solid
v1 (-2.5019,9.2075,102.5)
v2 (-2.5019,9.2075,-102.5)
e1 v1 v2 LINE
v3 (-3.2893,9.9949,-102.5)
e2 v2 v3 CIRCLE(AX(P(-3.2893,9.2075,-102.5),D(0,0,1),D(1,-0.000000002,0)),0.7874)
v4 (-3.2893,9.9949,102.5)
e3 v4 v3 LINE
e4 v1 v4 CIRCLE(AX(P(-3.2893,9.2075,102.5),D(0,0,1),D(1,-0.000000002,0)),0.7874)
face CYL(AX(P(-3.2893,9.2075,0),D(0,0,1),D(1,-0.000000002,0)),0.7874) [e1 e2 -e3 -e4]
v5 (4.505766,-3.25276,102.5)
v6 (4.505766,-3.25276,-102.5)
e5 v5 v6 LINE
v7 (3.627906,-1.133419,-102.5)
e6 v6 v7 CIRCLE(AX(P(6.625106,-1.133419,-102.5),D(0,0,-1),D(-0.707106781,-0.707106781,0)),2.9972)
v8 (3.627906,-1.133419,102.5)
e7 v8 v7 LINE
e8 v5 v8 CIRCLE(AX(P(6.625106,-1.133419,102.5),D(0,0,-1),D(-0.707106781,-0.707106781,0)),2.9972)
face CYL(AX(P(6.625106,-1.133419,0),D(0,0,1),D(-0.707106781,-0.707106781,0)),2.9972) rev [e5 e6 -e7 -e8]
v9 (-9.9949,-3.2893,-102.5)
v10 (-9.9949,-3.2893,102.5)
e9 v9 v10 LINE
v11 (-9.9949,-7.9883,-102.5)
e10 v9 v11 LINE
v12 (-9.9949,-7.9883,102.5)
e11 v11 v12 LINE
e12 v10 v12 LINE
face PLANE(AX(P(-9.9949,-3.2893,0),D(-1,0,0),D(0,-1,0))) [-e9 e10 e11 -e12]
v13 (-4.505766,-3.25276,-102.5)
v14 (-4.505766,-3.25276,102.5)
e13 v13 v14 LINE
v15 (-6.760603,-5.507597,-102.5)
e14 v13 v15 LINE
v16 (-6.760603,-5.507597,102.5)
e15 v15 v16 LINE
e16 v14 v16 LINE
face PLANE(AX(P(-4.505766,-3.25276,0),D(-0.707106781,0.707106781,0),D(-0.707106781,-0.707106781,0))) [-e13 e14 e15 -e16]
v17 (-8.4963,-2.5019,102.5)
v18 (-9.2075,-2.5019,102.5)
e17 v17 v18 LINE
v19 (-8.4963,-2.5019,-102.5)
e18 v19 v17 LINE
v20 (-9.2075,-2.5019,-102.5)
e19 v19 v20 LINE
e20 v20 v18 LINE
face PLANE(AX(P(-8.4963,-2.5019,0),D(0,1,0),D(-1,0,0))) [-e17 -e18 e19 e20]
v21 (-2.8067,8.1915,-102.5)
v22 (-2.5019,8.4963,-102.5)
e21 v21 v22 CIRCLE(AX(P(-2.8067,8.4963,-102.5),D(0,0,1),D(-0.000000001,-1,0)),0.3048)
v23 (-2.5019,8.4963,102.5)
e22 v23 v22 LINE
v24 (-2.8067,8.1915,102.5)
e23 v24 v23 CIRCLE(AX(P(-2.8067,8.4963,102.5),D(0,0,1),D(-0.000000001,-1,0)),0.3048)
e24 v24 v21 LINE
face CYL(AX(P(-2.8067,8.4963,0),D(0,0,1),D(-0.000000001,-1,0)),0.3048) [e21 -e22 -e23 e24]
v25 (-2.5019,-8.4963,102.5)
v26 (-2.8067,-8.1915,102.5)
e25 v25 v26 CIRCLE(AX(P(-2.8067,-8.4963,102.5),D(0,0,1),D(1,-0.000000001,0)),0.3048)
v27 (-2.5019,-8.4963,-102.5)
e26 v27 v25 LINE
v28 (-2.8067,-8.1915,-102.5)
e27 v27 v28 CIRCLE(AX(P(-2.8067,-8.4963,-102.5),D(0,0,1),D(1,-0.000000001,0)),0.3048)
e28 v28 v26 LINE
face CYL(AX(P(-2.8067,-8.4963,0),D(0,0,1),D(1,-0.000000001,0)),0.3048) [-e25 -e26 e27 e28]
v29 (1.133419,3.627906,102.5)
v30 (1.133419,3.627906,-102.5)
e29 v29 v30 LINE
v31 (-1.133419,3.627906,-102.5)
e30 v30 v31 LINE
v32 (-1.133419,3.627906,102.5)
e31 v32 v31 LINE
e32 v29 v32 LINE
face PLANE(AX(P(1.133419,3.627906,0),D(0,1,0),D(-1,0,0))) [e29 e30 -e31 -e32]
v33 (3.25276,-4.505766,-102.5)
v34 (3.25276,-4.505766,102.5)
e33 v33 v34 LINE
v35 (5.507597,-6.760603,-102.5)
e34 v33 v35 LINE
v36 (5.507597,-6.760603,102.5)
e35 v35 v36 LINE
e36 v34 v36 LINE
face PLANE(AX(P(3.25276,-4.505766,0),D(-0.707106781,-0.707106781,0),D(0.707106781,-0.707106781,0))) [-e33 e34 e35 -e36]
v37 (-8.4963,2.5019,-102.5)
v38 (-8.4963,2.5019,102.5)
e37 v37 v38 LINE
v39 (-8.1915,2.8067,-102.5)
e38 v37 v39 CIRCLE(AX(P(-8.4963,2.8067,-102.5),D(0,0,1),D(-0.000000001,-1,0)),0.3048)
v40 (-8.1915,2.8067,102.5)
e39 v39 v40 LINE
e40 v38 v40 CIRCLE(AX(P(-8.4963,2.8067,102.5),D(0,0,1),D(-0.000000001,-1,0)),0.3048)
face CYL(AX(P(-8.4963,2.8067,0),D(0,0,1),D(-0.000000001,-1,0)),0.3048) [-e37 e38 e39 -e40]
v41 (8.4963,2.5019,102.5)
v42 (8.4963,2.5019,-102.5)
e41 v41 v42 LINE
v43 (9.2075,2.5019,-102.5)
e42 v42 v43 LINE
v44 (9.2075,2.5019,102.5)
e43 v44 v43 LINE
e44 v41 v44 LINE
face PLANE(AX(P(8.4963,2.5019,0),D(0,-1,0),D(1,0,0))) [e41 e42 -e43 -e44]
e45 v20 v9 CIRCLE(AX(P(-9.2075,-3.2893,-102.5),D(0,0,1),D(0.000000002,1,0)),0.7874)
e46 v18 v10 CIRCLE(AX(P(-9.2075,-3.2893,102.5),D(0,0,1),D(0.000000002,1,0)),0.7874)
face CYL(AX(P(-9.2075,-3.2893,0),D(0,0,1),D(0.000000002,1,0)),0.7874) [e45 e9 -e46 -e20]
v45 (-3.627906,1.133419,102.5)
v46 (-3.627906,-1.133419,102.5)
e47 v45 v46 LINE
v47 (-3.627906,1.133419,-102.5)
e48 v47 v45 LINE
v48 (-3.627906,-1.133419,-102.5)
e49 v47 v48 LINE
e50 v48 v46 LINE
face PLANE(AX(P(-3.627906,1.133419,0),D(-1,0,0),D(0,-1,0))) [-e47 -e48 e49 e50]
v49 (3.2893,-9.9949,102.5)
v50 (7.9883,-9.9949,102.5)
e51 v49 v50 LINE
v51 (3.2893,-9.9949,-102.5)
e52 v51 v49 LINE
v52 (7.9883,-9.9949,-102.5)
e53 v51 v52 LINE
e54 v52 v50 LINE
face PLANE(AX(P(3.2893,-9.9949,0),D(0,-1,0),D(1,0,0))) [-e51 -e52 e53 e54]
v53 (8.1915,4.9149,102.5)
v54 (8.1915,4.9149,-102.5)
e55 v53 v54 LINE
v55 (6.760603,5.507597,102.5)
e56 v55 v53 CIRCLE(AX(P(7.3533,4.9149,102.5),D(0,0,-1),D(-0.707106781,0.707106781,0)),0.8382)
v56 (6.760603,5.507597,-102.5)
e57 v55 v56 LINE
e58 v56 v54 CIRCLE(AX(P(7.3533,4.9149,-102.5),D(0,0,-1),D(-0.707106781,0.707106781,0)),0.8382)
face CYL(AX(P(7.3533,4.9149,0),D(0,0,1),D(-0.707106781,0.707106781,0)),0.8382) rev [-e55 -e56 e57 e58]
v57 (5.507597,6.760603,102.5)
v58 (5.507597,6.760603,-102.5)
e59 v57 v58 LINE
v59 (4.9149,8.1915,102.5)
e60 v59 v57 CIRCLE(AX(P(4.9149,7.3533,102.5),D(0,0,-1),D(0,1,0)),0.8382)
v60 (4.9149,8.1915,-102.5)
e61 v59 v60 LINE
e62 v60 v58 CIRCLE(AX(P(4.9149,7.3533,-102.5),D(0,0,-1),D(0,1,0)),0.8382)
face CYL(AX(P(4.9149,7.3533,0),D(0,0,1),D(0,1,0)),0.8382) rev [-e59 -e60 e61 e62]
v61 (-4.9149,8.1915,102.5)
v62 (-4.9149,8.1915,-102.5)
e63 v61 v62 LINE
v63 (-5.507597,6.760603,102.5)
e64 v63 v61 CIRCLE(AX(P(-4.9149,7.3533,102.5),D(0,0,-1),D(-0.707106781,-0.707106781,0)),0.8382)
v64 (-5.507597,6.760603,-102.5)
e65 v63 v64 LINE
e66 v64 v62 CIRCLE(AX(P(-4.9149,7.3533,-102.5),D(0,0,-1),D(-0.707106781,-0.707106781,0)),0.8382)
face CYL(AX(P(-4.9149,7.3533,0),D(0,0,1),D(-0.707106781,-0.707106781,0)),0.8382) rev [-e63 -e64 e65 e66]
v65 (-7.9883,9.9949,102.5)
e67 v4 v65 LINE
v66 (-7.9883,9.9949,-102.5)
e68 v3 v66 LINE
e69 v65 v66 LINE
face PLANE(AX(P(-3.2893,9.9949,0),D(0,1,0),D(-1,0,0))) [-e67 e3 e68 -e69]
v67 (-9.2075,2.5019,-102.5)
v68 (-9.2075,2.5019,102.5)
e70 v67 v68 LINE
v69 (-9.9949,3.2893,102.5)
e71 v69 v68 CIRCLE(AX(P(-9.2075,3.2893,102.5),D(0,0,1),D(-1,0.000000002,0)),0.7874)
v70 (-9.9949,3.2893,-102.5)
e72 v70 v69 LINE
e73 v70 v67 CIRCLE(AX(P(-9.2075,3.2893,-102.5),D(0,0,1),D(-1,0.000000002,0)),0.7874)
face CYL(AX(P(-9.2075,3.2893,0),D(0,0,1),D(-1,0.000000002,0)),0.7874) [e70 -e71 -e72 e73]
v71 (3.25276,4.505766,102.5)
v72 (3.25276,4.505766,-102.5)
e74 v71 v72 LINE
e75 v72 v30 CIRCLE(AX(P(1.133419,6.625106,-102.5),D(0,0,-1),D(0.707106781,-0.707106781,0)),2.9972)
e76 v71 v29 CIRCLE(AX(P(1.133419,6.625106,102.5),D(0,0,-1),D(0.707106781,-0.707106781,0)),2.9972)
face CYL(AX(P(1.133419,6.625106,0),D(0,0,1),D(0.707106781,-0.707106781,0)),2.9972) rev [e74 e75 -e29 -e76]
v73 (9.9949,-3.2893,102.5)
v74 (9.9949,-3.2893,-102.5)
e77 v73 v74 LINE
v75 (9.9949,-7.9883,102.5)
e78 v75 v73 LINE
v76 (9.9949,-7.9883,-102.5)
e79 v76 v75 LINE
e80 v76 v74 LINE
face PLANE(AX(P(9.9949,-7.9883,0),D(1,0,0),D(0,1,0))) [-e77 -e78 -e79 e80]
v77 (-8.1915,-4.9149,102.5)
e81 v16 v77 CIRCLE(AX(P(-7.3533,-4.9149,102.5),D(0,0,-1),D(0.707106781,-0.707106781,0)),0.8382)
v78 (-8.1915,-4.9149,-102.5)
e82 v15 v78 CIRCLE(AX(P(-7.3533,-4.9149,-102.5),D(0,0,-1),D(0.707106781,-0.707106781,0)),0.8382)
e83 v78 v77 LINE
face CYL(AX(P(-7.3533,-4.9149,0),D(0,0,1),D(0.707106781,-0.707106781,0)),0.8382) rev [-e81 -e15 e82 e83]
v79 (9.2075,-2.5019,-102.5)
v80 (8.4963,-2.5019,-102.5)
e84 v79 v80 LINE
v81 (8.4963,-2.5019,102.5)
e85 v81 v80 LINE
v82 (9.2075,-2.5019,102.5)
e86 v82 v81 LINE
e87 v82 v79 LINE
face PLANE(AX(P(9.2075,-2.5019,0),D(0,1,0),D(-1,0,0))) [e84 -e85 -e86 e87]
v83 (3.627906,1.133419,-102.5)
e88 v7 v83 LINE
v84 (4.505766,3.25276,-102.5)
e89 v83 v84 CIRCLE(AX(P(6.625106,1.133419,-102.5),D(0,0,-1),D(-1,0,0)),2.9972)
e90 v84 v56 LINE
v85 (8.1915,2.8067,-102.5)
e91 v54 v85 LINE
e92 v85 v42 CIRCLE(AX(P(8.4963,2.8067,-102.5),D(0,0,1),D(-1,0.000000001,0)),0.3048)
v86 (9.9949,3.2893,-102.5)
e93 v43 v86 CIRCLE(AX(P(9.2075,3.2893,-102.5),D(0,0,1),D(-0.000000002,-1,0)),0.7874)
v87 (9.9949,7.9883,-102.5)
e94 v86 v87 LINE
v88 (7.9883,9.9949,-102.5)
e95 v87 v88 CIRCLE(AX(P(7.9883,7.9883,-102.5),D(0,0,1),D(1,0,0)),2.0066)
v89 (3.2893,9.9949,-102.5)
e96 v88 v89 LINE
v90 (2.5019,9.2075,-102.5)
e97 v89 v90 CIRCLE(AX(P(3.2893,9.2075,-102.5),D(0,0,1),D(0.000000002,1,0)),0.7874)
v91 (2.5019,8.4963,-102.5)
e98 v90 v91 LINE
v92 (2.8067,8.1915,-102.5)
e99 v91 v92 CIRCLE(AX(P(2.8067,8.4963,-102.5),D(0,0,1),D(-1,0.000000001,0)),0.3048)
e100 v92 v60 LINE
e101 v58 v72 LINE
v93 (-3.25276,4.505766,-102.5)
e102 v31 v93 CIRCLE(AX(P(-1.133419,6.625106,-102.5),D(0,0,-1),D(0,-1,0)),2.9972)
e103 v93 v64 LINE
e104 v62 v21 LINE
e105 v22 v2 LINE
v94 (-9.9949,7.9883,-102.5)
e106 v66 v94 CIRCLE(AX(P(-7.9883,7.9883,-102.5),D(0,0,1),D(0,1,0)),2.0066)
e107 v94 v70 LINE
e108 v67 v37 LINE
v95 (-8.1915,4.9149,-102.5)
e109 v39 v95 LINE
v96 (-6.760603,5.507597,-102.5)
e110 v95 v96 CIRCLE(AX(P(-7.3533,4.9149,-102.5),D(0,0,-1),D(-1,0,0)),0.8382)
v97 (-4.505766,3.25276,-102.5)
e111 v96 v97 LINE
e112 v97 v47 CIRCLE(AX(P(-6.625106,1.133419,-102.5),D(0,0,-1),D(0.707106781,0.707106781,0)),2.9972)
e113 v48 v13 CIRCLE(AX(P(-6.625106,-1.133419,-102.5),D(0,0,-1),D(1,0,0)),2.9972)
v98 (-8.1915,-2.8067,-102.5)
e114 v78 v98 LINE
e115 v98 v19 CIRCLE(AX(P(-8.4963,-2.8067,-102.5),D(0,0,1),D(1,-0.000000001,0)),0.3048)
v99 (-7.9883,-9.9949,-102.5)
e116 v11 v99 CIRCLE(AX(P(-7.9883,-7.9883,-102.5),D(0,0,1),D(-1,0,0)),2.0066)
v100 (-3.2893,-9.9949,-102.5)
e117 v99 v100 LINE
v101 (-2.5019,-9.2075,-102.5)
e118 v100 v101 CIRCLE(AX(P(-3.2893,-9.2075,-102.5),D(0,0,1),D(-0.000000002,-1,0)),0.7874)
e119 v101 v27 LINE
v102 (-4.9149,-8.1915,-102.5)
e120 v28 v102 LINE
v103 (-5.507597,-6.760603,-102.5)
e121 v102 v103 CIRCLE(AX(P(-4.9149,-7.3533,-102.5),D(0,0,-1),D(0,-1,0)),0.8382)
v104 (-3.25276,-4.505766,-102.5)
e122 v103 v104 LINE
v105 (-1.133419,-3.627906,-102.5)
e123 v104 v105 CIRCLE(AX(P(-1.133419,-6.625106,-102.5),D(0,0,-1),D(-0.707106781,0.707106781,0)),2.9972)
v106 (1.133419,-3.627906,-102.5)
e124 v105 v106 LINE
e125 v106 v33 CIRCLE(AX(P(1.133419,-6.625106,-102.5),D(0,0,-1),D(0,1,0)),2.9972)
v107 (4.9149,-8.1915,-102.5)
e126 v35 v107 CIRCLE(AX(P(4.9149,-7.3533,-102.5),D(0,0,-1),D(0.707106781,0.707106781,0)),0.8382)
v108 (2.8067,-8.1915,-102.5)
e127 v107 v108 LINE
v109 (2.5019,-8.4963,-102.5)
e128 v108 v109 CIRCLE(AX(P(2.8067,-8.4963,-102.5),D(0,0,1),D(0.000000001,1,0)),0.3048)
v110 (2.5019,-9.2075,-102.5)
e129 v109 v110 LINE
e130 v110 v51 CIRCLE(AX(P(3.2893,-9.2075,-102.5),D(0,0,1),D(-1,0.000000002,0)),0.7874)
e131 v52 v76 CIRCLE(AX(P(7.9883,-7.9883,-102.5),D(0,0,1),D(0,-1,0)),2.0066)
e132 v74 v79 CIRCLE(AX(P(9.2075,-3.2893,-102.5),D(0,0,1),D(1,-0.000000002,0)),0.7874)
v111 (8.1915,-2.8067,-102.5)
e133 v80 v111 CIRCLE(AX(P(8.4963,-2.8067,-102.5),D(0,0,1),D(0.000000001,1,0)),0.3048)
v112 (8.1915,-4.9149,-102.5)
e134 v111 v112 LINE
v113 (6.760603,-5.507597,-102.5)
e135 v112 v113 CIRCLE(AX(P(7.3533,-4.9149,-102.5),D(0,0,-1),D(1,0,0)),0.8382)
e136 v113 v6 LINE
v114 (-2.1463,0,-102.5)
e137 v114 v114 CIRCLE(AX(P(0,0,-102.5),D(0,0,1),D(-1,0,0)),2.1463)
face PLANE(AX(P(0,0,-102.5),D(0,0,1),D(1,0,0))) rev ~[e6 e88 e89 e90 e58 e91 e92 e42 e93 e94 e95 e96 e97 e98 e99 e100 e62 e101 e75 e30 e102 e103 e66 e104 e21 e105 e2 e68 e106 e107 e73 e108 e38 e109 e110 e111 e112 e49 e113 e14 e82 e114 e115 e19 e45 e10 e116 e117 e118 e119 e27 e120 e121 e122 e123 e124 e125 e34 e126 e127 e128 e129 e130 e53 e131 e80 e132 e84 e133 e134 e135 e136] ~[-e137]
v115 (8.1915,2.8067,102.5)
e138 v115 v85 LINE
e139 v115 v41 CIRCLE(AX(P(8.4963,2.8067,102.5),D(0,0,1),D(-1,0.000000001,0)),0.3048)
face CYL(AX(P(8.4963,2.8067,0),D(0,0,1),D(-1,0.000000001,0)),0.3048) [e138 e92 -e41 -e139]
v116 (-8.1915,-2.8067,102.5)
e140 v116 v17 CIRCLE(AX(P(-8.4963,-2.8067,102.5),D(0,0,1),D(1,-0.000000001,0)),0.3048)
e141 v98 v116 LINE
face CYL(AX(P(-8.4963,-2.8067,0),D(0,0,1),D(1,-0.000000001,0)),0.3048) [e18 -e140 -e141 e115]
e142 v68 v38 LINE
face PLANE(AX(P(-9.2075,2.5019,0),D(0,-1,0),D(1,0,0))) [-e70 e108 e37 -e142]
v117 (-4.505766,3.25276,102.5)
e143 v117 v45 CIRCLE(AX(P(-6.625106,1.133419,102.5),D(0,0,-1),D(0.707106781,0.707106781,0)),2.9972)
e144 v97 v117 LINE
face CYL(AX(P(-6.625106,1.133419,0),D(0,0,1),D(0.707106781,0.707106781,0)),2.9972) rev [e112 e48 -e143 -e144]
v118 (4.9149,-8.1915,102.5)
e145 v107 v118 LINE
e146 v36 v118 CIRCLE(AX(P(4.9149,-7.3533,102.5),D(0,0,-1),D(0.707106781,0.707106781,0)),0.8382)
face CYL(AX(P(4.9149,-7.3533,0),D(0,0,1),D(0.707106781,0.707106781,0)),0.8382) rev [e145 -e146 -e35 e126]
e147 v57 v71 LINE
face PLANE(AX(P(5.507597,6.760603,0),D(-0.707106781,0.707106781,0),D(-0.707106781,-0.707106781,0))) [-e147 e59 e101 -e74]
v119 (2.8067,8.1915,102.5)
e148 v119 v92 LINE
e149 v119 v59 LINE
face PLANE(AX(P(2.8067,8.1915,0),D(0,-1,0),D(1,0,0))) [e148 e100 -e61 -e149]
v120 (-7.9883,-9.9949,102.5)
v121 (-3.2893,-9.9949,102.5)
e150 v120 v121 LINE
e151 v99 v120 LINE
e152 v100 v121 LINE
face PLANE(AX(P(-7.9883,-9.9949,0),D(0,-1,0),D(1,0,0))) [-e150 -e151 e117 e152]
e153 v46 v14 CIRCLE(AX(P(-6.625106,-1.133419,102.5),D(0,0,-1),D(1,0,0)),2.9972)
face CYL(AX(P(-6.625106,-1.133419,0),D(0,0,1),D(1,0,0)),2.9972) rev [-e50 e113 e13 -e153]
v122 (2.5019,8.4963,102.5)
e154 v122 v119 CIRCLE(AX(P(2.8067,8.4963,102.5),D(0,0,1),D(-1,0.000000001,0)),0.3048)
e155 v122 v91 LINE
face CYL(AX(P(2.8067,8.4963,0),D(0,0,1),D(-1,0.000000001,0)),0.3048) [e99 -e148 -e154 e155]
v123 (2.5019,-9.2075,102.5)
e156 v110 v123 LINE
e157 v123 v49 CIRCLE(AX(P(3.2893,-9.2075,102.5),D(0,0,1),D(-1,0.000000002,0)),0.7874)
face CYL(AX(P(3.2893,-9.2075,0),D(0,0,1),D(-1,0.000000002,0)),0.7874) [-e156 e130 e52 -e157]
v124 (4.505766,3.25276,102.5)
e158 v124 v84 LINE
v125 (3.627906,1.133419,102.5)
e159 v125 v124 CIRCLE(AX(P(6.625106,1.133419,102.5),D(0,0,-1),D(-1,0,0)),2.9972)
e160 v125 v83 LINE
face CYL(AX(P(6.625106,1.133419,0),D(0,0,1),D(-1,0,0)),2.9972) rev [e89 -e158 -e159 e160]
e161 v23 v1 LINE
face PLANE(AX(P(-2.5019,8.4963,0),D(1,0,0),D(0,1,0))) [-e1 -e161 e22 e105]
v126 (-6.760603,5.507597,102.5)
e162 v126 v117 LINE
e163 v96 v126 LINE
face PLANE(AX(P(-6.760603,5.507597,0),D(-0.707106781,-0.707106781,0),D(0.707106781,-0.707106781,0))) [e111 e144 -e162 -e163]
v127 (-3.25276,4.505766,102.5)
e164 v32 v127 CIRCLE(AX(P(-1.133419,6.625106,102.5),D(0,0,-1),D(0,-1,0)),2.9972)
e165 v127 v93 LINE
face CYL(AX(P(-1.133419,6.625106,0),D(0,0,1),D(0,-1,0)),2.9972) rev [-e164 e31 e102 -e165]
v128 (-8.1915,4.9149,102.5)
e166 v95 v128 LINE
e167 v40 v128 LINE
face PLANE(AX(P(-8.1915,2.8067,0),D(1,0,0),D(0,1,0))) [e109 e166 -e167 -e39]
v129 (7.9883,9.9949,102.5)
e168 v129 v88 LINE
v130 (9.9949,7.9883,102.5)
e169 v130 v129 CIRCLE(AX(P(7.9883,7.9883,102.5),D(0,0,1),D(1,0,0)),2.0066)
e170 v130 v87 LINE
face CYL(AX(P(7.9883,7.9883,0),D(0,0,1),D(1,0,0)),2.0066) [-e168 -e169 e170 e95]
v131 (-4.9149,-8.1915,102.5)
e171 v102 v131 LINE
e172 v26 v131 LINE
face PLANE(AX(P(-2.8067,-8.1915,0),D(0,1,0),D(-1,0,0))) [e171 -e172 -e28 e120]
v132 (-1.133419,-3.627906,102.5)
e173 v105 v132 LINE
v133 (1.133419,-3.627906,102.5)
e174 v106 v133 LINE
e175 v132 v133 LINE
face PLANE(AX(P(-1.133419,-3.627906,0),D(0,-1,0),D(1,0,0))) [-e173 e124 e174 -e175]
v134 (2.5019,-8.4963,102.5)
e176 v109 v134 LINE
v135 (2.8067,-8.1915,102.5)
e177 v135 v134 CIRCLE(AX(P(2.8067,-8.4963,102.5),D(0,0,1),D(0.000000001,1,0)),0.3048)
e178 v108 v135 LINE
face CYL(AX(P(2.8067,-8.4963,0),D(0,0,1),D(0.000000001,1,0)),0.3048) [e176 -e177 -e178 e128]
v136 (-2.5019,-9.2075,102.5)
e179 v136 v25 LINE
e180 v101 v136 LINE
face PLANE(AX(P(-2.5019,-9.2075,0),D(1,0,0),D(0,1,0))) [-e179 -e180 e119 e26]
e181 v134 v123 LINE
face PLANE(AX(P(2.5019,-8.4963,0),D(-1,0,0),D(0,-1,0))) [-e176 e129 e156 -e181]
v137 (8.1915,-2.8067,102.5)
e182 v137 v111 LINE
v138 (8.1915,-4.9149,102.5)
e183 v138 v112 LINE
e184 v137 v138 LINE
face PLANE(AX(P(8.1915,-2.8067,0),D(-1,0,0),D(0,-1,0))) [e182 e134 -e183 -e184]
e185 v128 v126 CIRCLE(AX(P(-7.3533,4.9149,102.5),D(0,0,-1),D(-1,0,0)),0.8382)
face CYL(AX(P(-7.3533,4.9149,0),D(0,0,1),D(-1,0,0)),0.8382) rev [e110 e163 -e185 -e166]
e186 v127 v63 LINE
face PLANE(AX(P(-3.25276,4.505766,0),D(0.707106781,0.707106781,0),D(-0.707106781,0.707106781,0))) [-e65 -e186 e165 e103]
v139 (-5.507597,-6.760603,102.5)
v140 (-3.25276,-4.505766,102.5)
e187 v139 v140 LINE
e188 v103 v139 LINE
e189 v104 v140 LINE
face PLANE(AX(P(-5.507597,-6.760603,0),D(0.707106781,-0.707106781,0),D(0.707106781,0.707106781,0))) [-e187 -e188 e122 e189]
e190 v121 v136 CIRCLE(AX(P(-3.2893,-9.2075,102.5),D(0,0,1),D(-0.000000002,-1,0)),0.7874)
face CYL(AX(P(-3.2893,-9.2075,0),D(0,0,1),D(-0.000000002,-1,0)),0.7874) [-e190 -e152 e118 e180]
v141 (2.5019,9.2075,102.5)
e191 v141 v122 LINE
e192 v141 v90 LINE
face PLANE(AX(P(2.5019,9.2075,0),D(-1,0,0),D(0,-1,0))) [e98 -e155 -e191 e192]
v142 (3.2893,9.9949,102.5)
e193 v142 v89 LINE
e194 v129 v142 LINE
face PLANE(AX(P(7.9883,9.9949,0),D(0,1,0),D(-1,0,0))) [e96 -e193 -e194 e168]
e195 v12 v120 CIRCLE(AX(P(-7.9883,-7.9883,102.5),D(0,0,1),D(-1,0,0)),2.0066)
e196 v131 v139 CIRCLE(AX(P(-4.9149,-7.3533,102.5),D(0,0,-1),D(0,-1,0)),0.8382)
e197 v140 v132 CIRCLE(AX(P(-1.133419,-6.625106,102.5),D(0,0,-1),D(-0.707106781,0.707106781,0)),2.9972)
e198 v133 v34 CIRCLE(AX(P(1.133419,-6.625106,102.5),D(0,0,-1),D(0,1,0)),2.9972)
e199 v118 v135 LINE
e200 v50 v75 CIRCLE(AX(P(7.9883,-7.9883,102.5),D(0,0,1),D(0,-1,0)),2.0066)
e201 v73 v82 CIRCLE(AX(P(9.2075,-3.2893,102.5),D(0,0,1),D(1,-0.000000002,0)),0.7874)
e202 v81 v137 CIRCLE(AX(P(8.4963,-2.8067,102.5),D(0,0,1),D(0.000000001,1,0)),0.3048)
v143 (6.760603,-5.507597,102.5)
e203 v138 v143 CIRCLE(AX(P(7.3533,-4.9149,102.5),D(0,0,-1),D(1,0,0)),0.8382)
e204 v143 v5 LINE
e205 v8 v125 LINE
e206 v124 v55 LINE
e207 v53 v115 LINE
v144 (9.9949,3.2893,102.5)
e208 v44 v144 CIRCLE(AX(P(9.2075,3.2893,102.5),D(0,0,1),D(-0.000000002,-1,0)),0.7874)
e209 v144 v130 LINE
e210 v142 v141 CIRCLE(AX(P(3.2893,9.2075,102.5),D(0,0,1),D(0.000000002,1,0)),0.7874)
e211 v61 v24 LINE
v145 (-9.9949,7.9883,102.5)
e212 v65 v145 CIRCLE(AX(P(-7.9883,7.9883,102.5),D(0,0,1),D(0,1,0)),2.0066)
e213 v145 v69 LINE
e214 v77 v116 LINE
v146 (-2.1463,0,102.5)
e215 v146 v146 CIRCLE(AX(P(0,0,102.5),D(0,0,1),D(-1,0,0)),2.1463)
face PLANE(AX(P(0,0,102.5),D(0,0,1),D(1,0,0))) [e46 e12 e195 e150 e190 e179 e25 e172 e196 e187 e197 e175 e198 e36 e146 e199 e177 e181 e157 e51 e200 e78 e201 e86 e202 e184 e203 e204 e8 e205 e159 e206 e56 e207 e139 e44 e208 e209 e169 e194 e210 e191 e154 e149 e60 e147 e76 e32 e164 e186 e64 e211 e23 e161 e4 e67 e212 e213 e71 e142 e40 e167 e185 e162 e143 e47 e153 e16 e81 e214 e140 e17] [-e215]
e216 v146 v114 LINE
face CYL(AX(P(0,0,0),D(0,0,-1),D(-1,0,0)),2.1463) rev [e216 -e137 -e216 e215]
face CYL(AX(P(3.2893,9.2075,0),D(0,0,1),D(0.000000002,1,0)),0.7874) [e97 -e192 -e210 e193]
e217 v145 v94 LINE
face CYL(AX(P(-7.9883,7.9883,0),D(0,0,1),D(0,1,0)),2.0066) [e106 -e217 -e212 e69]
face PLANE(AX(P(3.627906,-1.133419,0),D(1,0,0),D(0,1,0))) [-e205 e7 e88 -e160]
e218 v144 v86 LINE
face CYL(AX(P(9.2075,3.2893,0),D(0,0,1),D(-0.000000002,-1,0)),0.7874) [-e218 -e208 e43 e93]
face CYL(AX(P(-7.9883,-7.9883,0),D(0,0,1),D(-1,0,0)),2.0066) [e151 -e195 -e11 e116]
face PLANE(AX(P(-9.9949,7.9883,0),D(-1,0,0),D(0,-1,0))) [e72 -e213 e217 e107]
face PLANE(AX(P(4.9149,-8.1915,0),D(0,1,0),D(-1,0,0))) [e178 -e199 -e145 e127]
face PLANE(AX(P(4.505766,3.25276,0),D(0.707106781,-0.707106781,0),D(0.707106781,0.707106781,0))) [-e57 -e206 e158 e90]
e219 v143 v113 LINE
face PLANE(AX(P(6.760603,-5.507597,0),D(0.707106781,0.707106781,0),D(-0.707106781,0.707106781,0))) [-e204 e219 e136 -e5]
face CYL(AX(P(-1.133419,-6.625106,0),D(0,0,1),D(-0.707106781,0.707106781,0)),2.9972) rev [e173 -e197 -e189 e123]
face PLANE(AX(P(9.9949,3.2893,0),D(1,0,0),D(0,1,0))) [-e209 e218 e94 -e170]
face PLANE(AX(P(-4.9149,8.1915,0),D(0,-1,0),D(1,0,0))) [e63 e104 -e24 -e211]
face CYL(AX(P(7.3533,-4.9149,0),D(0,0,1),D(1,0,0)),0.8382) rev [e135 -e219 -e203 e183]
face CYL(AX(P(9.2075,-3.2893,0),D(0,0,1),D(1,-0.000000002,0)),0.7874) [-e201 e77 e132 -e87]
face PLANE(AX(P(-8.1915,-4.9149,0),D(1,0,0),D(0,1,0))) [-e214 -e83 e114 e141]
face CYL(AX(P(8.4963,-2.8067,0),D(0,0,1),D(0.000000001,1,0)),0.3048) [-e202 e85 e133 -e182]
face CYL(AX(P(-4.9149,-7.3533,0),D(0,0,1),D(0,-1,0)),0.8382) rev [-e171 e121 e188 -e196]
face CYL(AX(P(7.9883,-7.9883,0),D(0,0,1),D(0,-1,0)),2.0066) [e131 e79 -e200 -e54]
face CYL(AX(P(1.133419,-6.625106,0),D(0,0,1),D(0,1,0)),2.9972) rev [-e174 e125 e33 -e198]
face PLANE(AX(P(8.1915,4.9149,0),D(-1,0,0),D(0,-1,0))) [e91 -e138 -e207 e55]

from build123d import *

# Parameters (mm, degrees)
SKETCH1_R           = 2.1463
BOSS_EXTRUDE1_DEPTH = 102.5


with BuildPart() as part:
    # Sketch1 → Boss-Extrude1 (new, symmetric)
    with BuildSketch(Plane.XY):
        with BuildLine():
            Line((-9.9949, 7.9883), (-9.9949, 3.2893))
            ThreePointArc((-9.9949, 3.2893), (-9.76427588, 2.73252412), (-9.2075, 2.5019))
            Line((-9.2075, 2.5019), (-8.4963, 2.5019))
            ThreePointArc((-8.4963, 2.5019), (-8.280773853, 2.591173853), (-8.1915, 2.8067))
            Line((-8.1915, 2.8067), (-8.1915, 4.9149))
            ThreePointArc((-8.1915, 4.9149), (-7.674065253, 5.689295824), (-6.760603096, 5.507596904))
            Line((-6.760603096, 5.507596904), (-4.505765747, 3.252759555))
            ThreePointArc((-4.505765747, 3.252759555), (-3.856054457, 2.280397894), (-3.627906192, 1.133419111))
            Line((-3.627906192, 1.133419111), (-3.627906192, -1.133419111))
            ThreePointArc((-3.627906192, -1.133419111), (-3.856054457, -2.280397894), (-4.505765747, -3.252759555))
            Line((-4.505765747, -3.252759555), (-6.760603096, -5.507596904))
            ThreePointArc((-6.760603096, -5.507596904), (-7.674065253, -5.689295824), (-8.1915, -4.9149))
            Line((-8.1915, -4.9149), (-8.1915, -2.8067))
            ThreePointArc((-8.1915, -2.8067), (-8.280773853, -2.591173853), (-8.4963, -2.5019))
            Line((-8.4963, -2.5019), (-9.2075, -2.5019))
            ThreePointArc((-9.2075, -2.5019), (-9.76427588, -2.73252412), (-9.9949, -3.2893))
            Line((-9.9949, -3.2893), (-9.9949, -7.9883))
            ThreePointArc((-9.9949, -7.9883), (-9.407180467, -9.407180467), (-7.9883, -9.9949))
            Line((-7.9883, -9.9949), (-3.2893, -9.9949))
            ThreePointArc((-3.2893, -9.9949), (-2.73252412, -9.76427588), (-2.5019, -9.2075))
            Line((-2.5019, -9.2075), (-2.5019, -8.4963))
            ThreePointArc((-2.5019, -8.4963), (-2.591173853, -8.280773853), (-2.8067, -8.1915))
            Line((-2.8067, -8.1915), (-4.9149, -8.1915))
            ThreePointArc((-4.9149, -8.1915), (-5.689295824, -7.674065253), (-5.507596904, -6.760603096))
            Line((-5.507596904, -6.760603096), (-3.252759555, -4.505765747))
            ThreePointArc((-3.252759555, -4.505765747), (-2.280397894, -3.856054457), (-1.133419111, -3.627906192))
            Line((-1.133419111, -3.627906192), (1.133419111, -3.627906192))
            ThreePointArc((1.133419111, -3.627906192), (2.280397894, -3.856054457), (3.252759555, -4.505765747))
            Line((3.252759555, -4.505765747), (5.507596904, -6.760603096))
            ThreePointArc((5.507596904, -6.760603096), (5.689295824, -7.674065253), (4.9149, -8.1915))
            Line((4.9149, -8.1915), (2.8067, -8.1915))
            ThreePointArc((2.8067, -8.1915), (2.591173853, -8.280773853), (2.5019, -8.4963))
            Line((2.5019, -8.4963), (2.5019, -9.2075))
            ThreePointArc((2.5019, -9.2075), (2.73252412, -9.76427588), (3.2893, -9.9949))
            Line((3.2893, -9.9949), (7.9883, -9.9949))
            ThreePointArc((7.9883, -9.9949), (9.407180467, -9.407180467), (9.9949, -7.9883))
            Line((9.9949, -7.9883), (9.9949, -3.2893))
            ThreePointArc((9.9949, -3.2893), (9.76427588, -2.73252412), (9.2075, -2.5019))
            Line((9.2075, -2.5019), (8.4963, -2.5019))
            ThreePointArc((8.4963, -2.5019), (8.280773853, -2.591173853), (8.1915, -2.8067))
            Line((8.1915, -2.8067), (8.1915, -4.9149))
            ThreePointArc((8.1915, -4.9149), (7.674065253, -5.689295824), (6.760603096, -5.507596904))
            Line((6.760603096, -5.507596904), (4.505765747, -3.252759555))
            ThreePointArc((4.505765747, -3.252759555), (3.856054457, -2.280397894), (3.627906192, -1.133419111))
            Line((3.627906192, -1.133419111), (3.627906192, 1.133419111))
            ThreePointArc((3.627906192, 1.133419111), (3.856054457, 2.280397894), (4.505765747, 3.252759555))
            Line((4.505765747, 3.252759555), (6.760603096, 5.507596904))
            ThreePointArc((6.760603096, 5.507596904), (7.674065253, 5.689295824), (8.1915, 4.9149))
            Line((8.1915, 4.9149), (8.1915, 2.8067))
            ThreePointArc((8.1915, 2.8067), (8.280773853, 2.591173853), (8.4963, 2.5019))
            Line((8.4963, 2.5019), (9.2075, 2.5019))
            ThreePointArc((9.2075, 2.5019), (9.76427588, 2.73252412), (9.9949, 3.2893))
            Line((9.9949, 3.2893), (9.9949, 7.9883))
            ThreePointArc((9.9949, 7.9883), (9.407180467, 9.407180467), (7.9883, 9.9949))
            Line((7.9883, 9.9949), (3.2893, 9.9949))
            ThreePointArc((3.2893, 9.9949), (2.73252412, 9.76427588), (2.5019, 9.2075))
            Line((2.5019, 9.2075), (2.5019, 8.4963))
            ThreePointArc((2.5019, 8.4963), (2.591173853, 8.280773853), (2.8067, 8.1915))
            Line((2.8067, 8.1915), (4.9149, 8.1915))
            ThreePointArc((4.9149, 8.1915), (5.689295824, 7.674065253), (5.507596904, 6.760603096))
            Line((5.507596904, 6.760603096), (3.252759555, 4.505765747))
            ThreePointArc((3.252759555, 4.505765747), (2.280397894, 3.856054457), (1.133419111, 3.627906192))
            Line((1.133419111, 3.627906192), (-1.133419111, 3.627906192))
            ThreePointArc((-1.133419111, 3.627906192), (-2.280397894, 3.856054457), (-3.252759555, 4.505765747))
            Line((-3.252759555, 4.505765747), (-5.507596904, 6.760603096))
            ThreePointArc((-5.507596904, 6.760603096), (-5.689295824, 7.674065253), (-4.9149, 8.1915))
            Line((-4.9149, 8.1915), (-2.8067, 8.1915))
            ThreePointArc((-2.8067, 8.1915), (-2.591173853, 8.280773853), (-2.5019, 8.4963))
            Line((-2.5019, 8.4963), (-2.5019, 9.2075))
            ThreePointArc((-2.5019, 9.2075), (-2.73252412, 9.76427588), (-3.2893, 9.9949))
            Line((-3.2893, 9.9949), (-7.9883, 9.9949))
            ThreePointArc((-7.9883, 9.9949), (-9.407180467, 9.407180467), (-9.9949, 7.9883))
        make_face()
        with Locations(Location((0, 0, 0), (0, 0, 180))):
            Circle(SKETCH1_R, mode=Mode.SUBTRACT)
    extrude(amount=BOSS_EXTRUDE1_DEPTH, both=True)


solid = part.part
